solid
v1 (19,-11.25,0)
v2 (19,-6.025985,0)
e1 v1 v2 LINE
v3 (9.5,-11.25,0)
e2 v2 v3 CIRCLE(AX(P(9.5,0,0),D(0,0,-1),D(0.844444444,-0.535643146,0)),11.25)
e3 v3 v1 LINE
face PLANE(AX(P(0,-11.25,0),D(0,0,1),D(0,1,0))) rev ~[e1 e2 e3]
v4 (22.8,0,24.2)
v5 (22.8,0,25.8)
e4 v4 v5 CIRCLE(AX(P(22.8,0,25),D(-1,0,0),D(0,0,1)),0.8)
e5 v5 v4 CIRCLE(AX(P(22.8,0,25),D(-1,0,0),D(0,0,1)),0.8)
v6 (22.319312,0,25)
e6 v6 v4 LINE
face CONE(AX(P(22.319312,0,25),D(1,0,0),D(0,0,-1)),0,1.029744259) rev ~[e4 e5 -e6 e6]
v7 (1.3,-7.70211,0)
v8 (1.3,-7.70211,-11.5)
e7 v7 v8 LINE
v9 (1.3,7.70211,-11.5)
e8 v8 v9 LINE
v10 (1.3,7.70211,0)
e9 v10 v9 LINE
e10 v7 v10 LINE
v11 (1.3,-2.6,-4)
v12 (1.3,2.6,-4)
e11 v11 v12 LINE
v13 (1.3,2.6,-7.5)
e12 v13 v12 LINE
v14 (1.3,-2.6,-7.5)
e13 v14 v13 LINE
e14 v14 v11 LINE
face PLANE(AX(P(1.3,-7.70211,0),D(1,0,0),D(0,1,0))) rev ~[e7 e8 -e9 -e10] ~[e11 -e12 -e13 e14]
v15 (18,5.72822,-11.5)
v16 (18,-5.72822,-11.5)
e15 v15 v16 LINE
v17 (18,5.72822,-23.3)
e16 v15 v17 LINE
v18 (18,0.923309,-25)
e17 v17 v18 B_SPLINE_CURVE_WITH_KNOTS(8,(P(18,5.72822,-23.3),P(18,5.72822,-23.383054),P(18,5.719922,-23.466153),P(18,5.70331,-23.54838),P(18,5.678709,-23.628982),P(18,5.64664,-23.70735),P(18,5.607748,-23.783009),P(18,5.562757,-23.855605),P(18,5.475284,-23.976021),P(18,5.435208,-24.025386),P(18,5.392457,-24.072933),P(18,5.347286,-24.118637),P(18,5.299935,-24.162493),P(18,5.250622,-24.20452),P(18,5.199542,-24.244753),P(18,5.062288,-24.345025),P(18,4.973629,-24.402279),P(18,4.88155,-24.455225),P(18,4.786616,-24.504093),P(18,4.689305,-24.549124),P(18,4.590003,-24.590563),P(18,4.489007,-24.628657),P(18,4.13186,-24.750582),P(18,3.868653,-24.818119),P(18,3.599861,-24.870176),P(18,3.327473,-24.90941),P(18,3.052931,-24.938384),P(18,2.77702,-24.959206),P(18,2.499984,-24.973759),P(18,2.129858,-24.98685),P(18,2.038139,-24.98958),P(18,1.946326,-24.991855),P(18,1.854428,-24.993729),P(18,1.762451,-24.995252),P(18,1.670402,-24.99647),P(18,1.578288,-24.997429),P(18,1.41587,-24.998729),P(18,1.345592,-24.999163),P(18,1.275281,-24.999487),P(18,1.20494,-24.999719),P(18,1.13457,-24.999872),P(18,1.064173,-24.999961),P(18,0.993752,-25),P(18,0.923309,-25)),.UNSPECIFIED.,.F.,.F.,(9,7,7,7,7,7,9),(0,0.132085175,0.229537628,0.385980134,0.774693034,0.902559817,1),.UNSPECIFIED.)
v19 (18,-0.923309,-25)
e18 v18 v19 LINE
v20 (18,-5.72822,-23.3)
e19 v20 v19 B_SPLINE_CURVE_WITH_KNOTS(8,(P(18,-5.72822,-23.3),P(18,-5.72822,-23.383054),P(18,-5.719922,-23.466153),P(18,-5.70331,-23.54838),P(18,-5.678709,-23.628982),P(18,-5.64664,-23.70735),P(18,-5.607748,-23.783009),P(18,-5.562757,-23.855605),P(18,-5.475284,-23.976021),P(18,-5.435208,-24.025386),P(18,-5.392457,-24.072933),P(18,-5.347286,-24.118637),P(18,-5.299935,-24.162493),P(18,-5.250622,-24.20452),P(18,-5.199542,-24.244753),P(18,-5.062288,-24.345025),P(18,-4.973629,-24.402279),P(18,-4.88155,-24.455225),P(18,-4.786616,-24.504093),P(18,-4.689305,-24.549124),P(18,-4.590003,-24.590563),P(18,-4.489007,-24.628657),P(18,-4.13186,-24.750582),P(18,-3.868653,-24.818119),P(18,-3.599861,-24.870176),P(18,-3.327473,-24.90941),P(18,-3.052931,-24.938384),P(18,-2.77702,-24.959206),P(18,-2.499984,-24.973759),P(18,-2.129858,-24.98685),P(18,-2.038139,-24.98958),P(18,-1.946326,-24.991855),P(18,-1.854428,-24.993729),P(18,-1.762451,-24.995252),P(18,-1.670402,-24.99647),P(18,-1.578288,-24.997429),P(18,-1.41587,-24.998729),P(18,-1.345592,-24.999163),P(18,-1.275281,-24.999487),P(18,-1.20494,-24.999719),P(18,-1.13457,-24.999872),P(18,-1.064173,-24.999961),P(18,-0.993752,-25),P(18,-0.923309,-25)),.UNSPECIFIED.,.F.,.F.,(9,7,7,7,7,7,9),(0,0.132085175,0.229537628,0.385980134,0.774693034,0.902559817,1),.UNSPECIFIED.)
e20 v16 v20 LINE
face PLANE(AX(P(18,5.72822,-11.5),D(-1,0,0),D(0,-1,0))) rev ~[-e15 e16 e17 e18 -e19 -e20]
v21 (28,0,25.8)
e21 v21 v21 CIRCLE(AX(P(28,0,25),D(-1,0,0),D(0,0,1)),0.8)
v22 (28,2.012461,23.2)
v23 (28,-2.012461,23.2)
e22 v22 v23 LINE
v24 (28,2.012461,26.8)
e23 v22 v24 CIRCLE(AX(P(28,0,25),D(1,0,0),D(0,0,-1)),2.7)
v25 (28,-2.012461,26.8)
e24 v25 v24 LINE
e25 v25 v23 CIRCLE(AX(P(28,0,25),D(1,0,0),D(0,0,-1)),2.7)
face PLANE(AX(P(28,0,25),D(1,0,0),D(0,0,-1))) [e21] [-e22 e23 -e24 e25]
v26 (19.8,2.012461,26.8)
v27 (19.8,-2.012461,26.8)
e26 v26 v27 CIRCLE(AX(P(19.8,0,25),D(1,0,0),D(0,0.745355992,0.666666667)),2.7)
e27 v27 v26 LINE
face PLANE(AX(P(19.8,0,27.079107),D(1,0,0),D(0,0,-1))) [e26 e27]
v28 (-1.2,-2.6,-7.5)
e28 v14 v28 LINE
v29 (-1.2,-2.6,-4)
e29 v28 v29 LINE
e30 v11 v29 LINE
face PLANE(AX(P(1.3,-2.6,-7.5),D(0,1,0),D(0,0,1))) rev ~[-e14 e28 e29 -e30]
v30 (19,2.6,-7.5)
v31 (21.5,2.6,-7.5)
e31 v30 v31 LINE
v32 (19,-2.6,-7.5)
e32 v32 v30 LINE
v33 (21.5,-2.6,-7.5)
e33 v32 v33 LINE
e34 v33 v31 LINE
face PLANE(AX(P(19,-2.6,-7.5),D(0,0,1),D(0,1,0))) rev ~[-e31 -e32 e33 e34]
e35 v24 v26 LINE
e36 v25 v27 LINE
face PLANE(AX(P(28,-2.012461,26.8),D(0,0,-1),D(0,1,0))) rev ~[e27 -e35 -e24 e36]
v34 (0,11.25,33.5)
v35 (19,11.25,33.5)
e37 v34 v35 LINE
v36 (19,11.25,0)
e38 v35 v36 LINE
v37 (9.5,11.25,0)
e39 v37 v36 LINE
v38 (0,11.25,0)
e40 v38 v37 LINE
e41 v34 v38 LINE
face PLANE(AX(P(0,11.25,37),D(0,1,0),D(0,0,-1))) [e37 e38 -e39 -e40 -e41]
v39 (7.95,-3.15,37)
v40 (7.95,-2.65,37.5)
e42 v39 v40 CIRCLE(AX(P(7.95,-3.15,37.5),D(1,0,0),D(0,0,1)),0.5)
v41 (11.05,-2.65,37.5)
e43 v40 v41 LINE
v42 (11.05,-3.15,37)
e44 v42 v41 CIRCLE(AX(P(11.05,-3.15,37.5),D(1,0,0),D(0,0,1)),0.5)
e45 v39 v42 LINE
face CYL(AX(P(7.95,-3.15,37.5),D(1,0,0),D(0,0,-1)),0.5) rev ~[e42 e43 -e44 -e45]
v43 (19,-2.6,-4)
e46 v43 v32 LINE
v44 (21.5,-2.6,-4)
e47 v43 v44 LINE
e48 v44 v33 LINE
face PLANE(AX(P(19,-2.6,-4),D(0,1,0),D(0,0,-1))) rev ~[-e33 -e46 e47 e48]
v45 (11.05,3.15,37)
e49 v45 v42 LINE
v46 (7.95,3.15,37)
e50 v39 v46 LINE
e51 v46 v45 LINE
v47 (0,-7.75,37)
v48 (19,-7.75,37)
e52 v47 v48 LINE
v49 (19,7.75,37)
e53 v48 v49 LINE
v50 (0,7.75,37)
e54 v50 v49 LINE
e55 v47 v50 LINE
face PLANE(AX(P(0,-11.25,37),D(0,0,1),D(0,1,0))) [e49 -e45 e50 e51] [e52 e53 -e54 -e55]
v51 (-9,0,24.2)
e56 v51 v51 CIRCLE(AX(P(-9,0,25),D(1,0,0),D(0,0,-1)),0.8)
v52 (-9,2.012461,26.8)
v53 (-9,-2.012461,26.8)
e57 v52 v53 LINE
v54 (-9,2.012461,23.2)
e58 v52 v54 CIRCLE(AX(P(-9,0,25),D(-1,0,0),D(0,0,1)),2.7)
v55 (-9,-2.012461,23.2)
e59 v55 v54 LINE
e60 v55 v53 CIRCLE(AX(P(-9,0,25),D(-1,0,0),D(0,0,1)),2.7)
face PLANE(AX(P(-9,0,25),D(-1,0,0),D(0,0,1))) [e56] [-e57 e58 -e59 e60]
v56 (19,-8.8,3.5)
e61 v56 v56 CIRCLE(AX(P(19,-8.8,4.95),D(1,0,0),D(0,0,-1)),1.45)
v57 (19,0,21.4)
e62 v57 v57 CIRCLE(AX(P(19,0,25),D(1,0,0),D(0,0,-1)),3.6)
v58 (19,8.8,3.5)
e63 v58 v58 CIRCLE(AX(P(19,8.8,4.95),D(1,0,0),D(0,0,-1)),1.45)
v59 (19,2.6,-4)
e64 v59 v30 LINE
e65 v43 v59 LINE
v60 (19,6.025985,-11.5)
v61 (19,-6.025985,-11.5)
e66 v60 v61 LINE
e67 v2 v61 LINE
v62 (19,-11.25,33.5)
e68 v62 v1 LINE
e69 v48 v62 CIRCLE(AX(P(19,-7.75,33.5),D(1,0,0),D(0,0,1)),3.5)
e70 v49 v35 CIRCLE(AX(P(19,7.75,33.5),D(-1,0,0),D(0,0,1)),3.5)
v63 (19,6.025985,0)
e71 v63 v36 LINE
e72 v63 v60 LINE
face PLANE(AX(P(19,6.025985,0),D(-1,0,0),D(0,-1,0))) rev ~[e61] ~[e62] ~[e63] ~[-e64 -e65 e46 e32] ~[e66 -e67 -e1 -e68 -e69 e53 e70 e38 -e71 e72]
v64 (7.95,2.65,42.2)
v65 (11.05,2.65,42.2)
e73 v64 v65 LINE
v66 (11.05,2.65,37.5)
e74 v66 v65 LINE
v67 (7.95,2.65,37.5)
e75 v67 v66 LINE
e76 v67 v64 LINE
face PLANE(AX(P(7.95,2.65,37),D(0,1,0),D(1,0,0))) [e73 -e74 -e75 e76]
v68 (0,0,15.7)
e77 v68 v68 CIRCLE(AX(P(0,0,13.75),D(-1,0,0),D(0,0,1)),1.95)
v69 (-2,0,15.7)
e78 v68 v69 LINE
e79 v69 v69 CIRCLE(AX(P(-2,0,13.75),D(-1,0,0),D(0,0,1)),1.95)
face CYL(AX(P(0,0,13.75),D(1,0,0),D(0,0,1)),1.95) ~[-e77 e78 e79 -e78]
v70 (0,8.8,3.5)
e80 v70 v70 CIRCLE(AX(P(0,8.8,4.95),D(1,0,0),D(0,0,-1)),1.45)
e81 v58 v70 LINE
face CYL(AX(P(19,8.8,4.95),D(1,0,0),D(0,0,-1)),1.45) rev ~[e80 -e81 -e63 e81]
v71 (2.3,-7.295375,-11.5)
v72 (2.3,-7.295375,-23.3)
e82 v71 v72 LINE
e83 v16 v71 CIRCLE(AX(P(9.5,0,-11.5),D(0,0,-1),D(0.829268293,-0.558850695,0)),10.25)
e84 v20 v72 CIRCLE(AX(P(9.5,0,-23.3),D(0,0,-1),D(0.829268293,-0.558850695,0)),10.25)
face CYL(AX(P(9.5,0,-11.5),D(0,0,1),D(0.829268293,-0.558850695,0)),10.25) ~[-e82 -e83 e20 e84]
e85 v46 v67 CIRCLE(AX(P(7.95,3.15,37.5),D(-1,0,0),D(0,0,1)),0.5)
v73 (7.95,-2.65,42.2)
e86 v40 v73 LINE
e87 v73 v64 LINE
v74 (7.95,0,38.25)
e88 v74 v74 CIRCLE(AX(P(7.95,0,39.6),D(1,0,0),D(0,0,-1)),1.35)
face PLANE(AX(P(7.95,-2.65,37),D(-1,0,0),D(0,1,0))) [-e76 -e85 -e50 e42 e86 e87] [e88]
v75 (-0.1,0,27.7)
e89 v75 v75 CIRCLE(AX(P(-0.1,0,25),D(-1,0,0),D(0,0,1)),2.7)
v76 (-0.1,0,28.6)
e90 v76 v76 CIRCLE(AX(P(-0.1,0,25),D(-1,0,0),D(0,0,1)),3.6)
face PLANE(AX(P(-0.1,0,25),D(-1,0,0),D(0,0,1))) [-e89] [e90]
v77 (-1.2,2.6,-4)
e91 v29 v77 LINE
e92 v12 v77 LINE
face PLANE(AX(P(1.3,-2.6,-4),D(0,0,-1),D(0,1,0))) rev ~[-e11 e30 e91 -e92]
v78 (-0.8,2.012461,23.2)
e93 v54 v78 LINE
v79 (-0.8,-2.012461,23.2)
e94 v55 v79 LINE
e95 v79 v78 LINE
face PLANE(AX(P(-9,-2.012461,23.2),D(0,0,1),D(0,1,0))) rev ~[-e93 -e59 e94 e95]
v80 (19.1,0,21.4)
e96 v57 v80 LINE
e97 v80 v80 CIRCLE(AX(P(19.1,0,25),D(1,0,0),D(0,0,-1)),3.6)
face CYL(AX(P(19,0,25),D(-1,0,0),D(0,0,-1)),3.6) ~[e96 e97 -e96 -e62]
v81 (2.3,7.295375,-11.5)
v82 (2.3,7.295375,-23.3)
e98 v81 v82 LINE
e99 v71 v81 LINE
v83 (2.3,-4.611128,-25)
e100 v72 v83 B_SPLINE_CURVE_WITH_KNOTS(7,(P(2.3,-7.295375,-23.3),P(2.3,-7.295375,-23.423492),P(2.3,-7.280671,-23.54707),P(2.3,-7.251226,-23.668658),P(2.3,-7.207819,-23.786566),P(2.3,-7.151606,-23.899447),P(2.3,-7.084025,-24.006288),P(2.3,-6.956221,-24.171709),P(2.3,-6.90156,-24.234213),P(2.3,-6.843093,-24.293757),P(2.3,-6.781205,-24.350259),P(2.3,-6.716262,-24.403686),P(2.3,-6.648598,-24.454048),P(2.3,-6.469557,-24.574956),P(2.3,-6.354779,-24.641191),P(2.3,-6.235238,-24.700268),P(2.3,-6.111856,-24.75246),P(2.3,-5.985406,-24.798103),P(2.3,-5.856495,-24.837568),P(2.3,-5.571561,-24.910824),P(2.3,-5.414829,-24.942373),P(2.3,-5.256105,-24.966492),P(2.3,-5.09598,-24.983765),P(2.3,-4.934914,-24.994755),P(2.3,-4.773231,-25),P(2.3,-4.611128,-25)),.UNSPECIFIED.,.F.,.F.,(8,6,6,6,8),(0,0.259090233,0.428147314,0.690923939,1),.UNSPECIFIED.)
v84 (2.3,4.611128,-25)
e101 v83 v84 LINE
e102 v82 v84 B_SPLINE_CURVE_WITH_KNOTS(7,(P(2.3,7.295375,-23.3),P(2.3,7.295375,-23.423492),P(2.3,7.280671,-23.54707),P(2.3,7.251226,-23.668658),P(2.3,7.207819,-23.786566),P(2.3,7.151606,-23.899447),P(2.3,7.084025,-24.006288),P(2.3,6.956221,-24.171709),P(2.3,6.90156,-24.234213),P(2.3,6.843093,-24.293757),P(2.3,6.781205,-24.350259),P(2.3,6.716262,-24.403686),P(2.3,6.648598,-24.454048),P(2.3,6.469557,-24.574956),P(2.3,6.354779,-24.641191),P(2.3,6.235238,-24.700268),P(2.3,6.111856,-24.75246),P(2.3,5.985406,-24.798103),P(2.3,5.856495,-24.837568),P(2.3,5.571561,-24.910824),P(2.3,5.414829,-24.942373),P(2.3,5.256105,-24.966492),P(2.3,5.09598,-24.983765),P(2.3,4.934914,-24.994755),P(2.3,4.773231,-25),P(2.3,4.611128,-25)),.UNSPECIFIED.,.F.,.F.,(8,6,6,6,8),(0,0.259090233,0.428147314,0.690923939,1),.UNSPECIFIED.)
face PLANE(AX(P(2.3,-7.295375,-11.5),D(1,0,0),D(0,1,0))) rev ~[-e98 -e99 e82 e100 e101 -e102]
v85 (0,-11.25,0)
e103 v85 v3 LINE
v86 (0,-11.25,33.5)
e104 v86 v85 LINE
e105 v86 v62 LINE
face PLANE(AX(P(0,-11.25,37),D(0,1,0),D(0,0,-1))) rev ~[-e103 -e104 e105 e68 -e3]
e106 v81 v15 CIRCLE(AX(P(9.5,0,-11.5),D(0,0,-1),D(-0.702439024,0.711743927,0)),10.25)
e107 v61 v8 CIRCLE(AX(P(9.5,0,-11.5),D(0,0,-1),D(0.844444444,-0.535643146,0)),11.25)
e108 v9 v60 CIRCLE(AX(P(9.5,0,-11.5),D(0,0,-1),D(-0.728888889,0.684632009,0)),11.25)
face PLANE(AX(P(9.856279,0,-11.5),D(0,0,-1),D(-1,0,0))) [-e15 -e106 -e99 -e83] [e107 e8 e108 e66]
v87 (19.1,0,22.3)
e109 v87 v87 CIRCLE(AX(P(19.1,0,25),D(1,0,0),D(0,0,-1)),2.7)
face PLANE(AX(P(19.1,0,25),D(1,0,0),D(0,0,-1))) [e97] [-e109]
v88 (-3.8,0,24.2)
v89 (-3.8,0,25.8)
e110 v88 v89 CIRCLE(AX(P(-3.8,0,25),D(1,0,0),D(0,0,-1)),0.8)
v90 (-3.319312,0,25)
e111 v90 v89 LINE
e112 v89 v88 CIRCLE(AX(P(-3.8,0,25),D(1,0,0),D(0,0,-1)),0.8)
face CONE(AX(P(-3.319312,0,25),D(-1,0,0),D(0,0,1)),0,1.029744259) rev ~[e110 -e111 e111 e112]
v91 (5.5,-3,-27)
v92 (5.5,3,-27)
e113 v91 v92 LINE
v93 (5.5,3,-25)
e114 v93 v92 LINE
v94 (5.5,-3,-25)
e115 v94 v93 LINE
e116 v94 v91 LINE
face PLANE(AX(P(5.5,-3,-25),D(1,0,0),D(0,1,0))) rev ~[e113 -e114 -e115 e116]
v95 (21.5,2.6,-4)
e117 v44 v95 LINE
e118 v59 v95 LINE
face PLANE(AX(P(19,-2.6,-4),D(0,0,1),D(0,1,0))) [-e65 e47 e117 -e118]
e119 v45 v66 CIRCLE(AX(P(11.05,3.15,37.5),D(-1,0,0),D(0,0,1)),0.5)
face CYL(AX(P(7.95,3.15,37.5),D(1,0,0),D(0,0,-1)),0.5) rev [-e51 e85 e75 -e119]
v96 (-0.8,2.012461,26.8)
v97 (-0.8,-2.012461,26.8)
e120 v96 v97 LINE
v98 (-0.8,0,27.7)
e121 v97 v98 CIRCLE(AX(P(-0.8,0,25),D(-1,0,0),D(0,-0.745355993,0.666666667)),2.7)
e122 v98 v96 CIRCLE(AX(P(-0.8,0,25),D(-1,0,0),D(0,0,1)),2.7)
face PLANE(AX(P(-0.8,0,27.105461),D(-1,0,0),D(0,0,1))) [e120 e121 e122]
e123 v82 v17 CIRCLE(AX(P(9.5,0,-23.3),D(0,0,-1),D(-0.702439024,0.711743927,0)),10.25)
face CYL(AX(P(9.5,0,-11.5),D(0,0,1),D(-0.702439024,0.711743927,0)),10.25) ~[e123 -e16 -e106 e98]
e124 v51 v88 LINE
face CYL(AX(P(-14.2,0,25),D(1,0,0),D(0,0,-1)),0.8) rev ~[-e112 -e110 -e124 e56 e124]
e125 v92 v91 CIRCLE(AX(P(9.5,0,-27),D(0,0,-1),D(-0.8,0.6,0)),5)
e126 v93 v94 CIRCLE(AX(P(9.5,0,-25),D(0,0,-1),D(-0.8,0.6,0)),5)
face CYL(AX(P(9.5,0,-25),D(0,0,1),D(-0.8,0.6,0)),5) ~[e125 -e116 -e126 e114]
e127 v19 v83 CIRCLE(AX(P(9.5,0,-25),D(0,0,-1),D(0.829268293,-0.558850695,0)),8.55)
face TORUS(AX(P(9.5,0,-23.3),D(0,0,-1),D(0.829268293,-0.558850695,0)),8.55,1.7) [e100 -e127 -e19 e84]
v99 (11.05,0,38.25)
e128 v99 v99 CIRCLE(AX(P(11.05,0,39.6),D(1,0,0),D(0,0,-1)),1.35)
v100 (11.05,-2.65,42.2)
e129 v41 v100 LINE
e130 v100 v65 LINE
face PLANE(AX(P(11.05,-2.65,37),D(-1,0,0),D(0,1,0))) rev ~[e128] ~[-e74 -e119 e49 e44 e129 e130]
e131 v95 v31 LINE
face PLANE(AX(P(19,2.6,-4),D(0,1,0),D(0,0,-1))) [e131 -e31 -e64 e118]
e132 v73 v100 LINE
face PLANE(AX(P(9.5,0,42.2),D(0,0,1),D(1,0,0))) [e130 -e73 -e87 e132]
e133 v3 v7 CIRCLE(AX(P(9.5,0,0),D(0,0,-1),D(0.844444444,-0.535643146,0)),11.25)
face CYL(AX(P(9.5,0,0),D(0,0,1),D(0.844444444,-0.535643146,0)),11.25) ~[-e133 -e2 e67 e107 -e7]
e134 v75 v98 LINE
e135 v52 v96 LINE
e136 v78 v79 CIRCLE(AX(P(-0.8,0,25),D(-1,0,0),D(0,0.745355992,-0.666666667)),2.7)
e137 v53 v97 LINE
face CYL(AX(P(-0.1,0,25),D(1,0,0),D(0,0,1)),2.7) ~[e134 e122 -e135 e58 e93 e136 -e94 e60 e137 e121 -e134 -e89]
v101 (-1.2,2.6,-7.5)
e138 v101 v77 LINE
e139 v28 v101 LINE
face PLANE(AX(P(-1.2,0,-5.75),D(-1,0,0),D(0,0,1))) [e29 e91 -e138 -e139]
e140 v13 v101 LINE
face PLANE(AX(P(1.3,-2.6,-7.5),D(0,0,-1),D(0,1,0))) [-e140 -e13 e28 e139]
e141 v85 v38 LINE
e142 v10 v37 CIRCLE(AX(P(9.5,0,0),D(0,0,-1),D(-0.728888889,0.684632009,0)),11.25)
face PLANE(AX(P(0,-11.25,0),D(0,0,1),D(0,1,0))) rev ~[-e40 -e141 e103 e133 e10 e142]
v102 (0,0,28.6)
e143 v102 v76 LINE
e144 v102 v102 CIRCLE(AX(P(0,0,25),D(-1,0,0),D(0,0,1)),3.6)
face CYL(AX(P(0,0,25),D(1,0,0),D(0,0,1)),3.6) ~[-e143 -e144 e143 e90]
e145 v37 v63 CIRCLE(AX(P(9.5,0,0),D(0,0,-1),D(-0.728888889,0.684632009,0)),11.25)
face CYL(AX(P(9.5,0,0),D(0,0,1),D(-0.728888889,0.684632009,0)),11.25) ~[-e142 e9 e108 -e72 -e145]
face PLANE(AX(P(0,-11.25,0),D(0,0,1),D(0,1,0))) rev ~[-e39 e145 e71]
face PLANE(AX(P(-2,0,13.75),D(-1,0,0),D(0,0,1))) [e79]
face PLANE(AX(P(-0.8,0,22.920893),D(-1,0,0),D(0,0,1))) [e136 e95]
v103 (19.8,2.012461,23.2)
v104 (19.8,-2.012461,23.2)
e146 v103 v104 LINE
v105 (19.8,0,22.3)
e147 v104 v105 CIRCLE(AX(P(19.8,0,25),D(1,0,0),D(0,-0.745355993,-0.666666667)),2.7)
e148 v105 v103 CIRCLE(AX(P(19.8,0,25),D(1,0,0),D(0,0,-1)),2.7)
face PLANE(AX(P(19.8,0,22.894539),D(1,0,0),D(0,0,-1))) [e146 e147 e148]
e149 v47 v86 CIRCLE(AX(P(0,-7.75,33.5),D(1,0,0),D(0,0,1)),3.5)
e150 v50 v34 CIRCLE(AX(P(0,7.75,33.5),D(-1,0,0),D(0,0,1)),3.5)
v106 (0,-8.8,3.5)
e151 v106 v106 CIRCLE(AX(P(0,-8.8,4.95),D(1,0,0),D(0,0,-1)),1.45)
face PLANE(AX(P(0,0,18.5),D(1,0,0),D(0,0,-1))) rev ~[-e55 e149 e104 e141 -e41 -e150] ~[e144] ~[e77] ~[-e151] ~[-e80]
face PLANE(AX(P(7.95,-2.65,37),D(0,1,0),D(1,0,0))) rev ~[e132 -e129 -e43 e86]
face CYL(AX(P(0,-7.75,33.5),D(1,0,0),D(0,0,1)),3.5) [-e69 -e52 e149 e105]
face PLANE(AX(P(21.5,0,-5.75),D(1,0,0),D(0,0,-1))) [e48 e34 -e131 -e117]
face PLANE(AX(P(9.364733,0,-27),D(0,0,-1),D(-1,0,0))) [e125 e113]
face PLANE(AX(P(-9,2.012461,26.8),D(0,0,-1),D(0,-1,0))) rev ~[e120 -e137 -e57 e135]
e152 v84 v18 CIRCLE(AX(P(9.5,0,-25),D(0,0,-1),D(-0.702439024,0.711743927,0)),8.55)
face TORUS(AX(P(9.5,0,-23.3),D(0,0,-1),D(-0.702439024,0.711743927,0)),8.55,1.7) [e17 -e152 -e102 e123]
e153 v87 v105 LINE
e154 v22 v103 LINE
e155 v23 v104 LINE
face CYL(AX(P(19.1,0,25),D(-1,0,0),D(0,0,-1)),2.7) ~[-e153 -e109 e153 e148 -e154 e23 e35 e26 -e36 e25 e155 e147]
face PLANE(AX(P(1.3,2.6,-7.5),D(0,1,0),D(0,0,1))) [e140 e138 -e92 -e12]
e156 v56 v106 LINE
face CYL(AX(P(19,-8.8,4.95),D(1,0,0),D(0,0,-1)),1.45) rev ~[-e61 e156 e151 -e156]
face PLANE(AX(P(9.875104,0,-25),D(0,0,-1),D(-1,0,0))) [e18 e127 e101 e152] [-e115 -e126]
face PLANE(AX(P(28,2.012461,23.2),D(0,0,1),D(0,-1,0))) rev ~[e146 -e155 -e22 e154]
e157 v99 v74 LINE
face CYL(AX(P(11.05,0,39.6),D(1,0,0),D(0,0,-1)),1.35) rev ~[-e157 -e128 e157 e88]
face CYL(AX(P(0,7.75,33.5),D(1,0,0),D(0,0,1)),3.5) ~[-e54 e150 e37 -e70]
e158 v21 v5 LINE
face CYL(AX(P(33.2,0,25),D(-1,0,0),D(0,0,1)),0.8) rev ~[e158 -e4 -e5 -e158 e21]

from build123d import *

# Parameters (mm, degrees)
SKETCH1_W                 = 37
SKETCH1_H                 = 22.5
BOSS_EXTRUDE1_DEPTH       = 19
SKETCH2_W                 = 3.1
SKETCH2_H                 = 5.3
BOSS_EXTRUDE2_DEPTH       = 5.2
SKETCH3_R                 = 1.35
CUT_EXTRUDE1_DEPTH        = 12.05
FILLET1_R                 = 3.5
SKETCH4_R                 = 3.6
BOSS_EXTRUDE3_DEPTH       = 0.1
SKETCH5_R                 = 3.6
BOSS_EXTRUDE4_DEPTH       = 0.1
SKETCH6_R                 = 2.7
BOSS_EXTRUDE5_DEPTH       = 8.9
SKETCH7_R                 = 2.7
BOSS_EXTRUDE6_DEPTH       = 8.9
FILLET2_R                 = 0.5
CUT_EXTRUDE2_DEPTH        = 8.2
CUT_EXTRUDE3_DEPTH        = 8.2
M2X0_4_TAPPED_HOLE1_D     = 1.6
M2X0_4_TAPPED_HOLE1_DEPTH = 5.2
M2X0_4_TAPPED_HOLE1_TIP   = 0.480688495
M2X0_4_TAPPED_HOLE2_D     = 1.6
M2X0_4_TAPPED_HOLE2_DEPTH = 5.2
M2X0_4_TAPPED_HOLE2_TIP   = 0.480688495
SKETCH16_R                = 1.95
BOSS_EXTRUDE7_DEPTH       = 2
BOSS_EXTRUDE8_DEPTH       = 11.5
SKETCH18_W                = 3.5
SKETCH18_H                = 5.2
BOSS_EXTRUDE9_DEPTH       = 2.5
SKETCH19_W                = 3.5
SKETCH19_H                = 5.2
BOSS_EXTRUDE10_DEPTH      = 2.5
BOSS_EXTRUDE11_DEPTH      = 13.5
FILLET3_R                 = 1.7
BOSS_EXTRUDE12_DEPTH      = 2
SKETCH25_R                = 1.45
CUT_EXTRUDE5_DEPTH        = 29


with BuildPart() as part:
    # Sketch1 → Boss-Extrude1 (new body)
    with BuildSketch(Plane(origin=(0, 0, 0), x_dir=(0, 0, -1), z_dir=(1, 0, 0))):
        with Locations((-18.5, 0)):
            Rectangle(SKETCH1_W, SKETCH1_H)
    extrude(amount=BOSS_EXTRUDE1_DEPTH)

    # Sketch2 → Boss-Extrude2 (add)
    with BuildSketch(Plane.XY.offset(37)):
        with Locations((9.5, 0)):
            Rectangle(SKETCH2_W, SKETCH2_H)
    extrude(amount=BOSS_EXTRUDE2_DEPTH)

    # Sketch3 → Cut-Extrude1 (cut, through all)
    with BuildSketch(Plane(origin=(11.05, 0, 0), x_dir=(0, 0, -1), z_dir=(1, 0, 0))):
        with Locations((-39.6, 0)):
            Circle(SKETCH3_R)
    extrude(amount=-CUT_EXTRUDE1_DEPTH, mode=Mode.SUBTRACT)

    # Fillet1
    fillet1_edges = [part.edges().sort_by_distance(p)[0] for p in [
        (9.5, -11.25, 37),
        (9.5, 11.25, 37),
    ]]
    fillet(fillet1_edges, radius=FILLET1_R)

    # Sketch4 → Boss-Extrude3 (add)
    with BuildSketch(Plane(origin=(19, 0, 0), x_dir=(0, 0, -1), z_dir=(1, 0, 0))):
        with Locations((-25, 0)):
            Circle(SKETCH4_R)
    extrude(amount=BOSS_EXTRUDE3_DEPTH)

    # Sketch5 → Boss-Extrude4 (add)
    with BuildSketch(Plane.ZY):
        with Locations((25, 0)):
            Circle(SKETCH5_R)
    extrude(amount=BOSS_EXTRUDE4_DEPTH)

    # Sketch6 → Boss-Extrude5 (add)
    with BuildSketch(Plane(origin=(19.1, 0, 0), x_dir=(0, 0, -1), z_dir=(1, 0, 0))):
        with Locations((-25, 0)):
            Circle(SKETCH6_R)
    extrude(amount=BOSS_EXTRUDE5_DEPTH)

    # Sketch7 → Boss-Extrude6 (add)
    with BuildSketch(Plane.ZY.offset(0.1)):
        with Locations((25, 0)):
            Circle(SKETCH7_R)
    extrude(amount=BOSS_EXTRUDE6_DEPTH)

    # Fillet2
    fillet2_edges = [part.edges().sort_by_distance(p)[0] for p in [
        (9.5, 2.65, 37),
        (9.5, -2.65, 37),
    ]]
    fillet(fillet2_edges, radius=FILLET2_R)

    # Sketch8 → Cut-Extrude2 (cut)
    with BuildSketch(Plane(origin=(28, 0, 0), x_dir=(0, 0, -1), z_dir=(1, 0, 0))):
        with BuildLine():
            Line((-26.8, -2.01246118), (-26.8, 2.01246118))
            ThreePointArc((-26.8, 2.01246118), (-27.7, 0), (-26.8, -2.01246118))
        make_face()
        with BuildLine():
            ThreePointArc((-22.3, 0), (-22.535248491, 1.102270384), (-23.2, 2.01246118))
            Line((-23.2, 2.01246118), (-23.2, -2.01246118))
            ThreePointArc((-23.2, -2.01246118), (-22.535248491, -1.102270384), (-22.3, 0))
        make_face()
    extrude(amount=-CUT_EXTRUDE2_DEPTH, mode=Mode.SUBTRACT)

    # Sketch9 → Cut-Extrude3 (cut)
    with BuildSketch(Plane.ZY.offset(9)):
        with BuildLine():
            Line((23.2, -2.01246118), (23.2, 2.01246118))
            ThreePointArc((23.2, 2.01246118), (22.3, 0), (23.2, -2.01246118))
        make_face()
        with BuildLine():
            ThreePointArc((27.7, 0), (27.464751509, 1.102270384), (26.8, 2.01246118))
            Line((26.8, 2.01246118), (26.8, -2.01246118))
            ThreePointArc((26.8, -2.01246118), (27.464751509, -1.102270384), (27.7, 0))
        make_face()
    extrude(amount=-CUT_EXTRUDE3_DEPTH, mode=Mode.SUBTRACT)

    # M2x0.4 Tapped Hole1
    with Locations(Plane(origin=(28, 0, 0), x_dir=(0, 0, -1), z_dir=(1, 0, 0))):
        with Locations((-25, 0)):
            Hole(M2X0_4_TAPPED_HOLE1_D / 2, depth=M2X0_4_TAPPED_HOLE1_DEPTH)
            with Locations((0, 0, -(M2X0_4_TAPPED_HOLE1_DEPTH + M2X0_4_TAPPED_HOLE1_TIP / 2))):  # 118° drill point
                Cone(0, M2X0_4_TAPPED_HOLE1_D / 2, M2X0_4_TAPPED_HOLE1_TIP, mode=Mode.SUBTRACT)

    # M2x0.4 Tapped Hole2
    with Locations(Plane.ZY.offset(9)):
        with Locations((25, 0)):
            Hole(M2X0_4_TAPPED_HOLE2_D / 2, depth=M2X0_4_TAPPED_HOLE2_DEPTH)
            with Locations((0, 0, -(M2X0_4_TAPPED_HOLE2_DEPTH + M2X0_4_TAPPED_HOLE2_TIP / 2))):  # 118° drill point
                Cone(0, M2X0_4_TAPPED_HOLE2_D / 2, M2X0_4_TAPPED_HOLE2_TIP, mode=Mode.SUBTRACT)

    # Sketch16 → Boss-Extrude7 (add)
    with BuildSketch(Plane.ZY):
        with Locations((13.75, 0)):
            Circle(SKETCH16_R)
    extrude(amount=BOSS_EXTRUDE7_DEPTH)

    # Sketch17 → Boss-Extrude8 (add)
    with BuildSketch(Plane(origin=(0, 0, 0), x_dir=(-1, 0, 0), z_dir=(0, 0, -1))):
        with BuildLine():
            Line((-19, 6.025985397), (-19, -6.025985397))
            ThreePointArc((-19, -6.025985397), (-10.560588754, -11.199895156), (-1.3, -7.7021101))
            Line((-1.3, -7.7021101), (-1.3, 7.7021101))
            ThreePointArc((-1.3, 7.7021101), (-10.560588754, 11.199895156), (-19, 6.025985397))
        make_face()
    extrude(amount=BOSS_EXTRUDE8_DEPTH)

    # Sketch18 → Boss-Extrude9 (add)
    with BuildSketch(Plane(origin=(19, 0, 0), x_dir=(0, 0, -1), z_dir=(1, 0, 0))):
        with Locations((5.75, 0)):
            Rectangle(SKETCH18_W, SKETCH18_H)
    extrude(amount=BOSS_EXTRUDE9_DEPTH)

    # Sketch19 → Boss-Extrude10 (add)
    with BuildSketch(Plane.ZY.offset(-1.3)):
        with Locations((-5.75, 0)):
            Rectangle(SKETCH19_W, SKETCH19_H)
    extrude(amount=BOSS_EXTRUDE10_DEPTH)

    # Sketch20 → Boss-Extrude11 (add)
    with BuildSketch(Plane(origin=(0, 0, -11.5), x_dir=(-1, 0, 0), z_dir=(0, 0, -1))):
        with BuildLine():
            Line((-18, 5.728219619), (-18, -5.728219619))
            ThreePointArc((-18, -5.728219619), (-10.518083587, -10.199313987), (-2.3, -7.295375247))
            Line((-2.3, -7.295375247), (-2.3, 7.295375247))
            ThreePointArc((-2.3, 7.295375247), (-10.518083587, 10.199313987), (-18, 5.728219619))
        make_face()
    extrude(amount=BOSS_EXTRUDE11_DEPTH)

    # Fillet3
    fillet3_edges = [part.edges().sort_by_distance(p)[0] for p in [
        (10.518083587, 10.199313987, -25),
        (10.518083587, -10.199313987, -25),
    ]]
    fillet(fillet3_edges, radius=FILLET3_R)

    # Sketch21 → Boss-Extrude12 (add)
    with BuildSketch(Plane(origin=(0, 0, -25), x_dir=(-1, 0, 0), z_dir=(0, 0, -1))):
        with BuildLine():
            Line((-5.5, -3), (-5.5, 3))
            ThreePointArc((-5.5, 3), (-14.5, 0), (-5.5, -3))
        make_face()
    extrude(amount=BOSS_EXTRUDE12_DEPTH)

    # Sketch25 → Cut-Extrude5 (cut, through all)
    with BuildSketch(Plane(origin=(19, 0, 0), x_dir=(0, 0, -1), z_dir=(1, 0, 0))):
        with Locations((-4.95, 8.8)):
            Circle(SKETCH25_R)
        with Locations((-4.95, -8.8)):
            Circle(SKETCH25_R)
    extrude(amount=-CUT_EXTRUDE5_DEPTH, mode=Mode.SUBTRACT)


solid = part.part
